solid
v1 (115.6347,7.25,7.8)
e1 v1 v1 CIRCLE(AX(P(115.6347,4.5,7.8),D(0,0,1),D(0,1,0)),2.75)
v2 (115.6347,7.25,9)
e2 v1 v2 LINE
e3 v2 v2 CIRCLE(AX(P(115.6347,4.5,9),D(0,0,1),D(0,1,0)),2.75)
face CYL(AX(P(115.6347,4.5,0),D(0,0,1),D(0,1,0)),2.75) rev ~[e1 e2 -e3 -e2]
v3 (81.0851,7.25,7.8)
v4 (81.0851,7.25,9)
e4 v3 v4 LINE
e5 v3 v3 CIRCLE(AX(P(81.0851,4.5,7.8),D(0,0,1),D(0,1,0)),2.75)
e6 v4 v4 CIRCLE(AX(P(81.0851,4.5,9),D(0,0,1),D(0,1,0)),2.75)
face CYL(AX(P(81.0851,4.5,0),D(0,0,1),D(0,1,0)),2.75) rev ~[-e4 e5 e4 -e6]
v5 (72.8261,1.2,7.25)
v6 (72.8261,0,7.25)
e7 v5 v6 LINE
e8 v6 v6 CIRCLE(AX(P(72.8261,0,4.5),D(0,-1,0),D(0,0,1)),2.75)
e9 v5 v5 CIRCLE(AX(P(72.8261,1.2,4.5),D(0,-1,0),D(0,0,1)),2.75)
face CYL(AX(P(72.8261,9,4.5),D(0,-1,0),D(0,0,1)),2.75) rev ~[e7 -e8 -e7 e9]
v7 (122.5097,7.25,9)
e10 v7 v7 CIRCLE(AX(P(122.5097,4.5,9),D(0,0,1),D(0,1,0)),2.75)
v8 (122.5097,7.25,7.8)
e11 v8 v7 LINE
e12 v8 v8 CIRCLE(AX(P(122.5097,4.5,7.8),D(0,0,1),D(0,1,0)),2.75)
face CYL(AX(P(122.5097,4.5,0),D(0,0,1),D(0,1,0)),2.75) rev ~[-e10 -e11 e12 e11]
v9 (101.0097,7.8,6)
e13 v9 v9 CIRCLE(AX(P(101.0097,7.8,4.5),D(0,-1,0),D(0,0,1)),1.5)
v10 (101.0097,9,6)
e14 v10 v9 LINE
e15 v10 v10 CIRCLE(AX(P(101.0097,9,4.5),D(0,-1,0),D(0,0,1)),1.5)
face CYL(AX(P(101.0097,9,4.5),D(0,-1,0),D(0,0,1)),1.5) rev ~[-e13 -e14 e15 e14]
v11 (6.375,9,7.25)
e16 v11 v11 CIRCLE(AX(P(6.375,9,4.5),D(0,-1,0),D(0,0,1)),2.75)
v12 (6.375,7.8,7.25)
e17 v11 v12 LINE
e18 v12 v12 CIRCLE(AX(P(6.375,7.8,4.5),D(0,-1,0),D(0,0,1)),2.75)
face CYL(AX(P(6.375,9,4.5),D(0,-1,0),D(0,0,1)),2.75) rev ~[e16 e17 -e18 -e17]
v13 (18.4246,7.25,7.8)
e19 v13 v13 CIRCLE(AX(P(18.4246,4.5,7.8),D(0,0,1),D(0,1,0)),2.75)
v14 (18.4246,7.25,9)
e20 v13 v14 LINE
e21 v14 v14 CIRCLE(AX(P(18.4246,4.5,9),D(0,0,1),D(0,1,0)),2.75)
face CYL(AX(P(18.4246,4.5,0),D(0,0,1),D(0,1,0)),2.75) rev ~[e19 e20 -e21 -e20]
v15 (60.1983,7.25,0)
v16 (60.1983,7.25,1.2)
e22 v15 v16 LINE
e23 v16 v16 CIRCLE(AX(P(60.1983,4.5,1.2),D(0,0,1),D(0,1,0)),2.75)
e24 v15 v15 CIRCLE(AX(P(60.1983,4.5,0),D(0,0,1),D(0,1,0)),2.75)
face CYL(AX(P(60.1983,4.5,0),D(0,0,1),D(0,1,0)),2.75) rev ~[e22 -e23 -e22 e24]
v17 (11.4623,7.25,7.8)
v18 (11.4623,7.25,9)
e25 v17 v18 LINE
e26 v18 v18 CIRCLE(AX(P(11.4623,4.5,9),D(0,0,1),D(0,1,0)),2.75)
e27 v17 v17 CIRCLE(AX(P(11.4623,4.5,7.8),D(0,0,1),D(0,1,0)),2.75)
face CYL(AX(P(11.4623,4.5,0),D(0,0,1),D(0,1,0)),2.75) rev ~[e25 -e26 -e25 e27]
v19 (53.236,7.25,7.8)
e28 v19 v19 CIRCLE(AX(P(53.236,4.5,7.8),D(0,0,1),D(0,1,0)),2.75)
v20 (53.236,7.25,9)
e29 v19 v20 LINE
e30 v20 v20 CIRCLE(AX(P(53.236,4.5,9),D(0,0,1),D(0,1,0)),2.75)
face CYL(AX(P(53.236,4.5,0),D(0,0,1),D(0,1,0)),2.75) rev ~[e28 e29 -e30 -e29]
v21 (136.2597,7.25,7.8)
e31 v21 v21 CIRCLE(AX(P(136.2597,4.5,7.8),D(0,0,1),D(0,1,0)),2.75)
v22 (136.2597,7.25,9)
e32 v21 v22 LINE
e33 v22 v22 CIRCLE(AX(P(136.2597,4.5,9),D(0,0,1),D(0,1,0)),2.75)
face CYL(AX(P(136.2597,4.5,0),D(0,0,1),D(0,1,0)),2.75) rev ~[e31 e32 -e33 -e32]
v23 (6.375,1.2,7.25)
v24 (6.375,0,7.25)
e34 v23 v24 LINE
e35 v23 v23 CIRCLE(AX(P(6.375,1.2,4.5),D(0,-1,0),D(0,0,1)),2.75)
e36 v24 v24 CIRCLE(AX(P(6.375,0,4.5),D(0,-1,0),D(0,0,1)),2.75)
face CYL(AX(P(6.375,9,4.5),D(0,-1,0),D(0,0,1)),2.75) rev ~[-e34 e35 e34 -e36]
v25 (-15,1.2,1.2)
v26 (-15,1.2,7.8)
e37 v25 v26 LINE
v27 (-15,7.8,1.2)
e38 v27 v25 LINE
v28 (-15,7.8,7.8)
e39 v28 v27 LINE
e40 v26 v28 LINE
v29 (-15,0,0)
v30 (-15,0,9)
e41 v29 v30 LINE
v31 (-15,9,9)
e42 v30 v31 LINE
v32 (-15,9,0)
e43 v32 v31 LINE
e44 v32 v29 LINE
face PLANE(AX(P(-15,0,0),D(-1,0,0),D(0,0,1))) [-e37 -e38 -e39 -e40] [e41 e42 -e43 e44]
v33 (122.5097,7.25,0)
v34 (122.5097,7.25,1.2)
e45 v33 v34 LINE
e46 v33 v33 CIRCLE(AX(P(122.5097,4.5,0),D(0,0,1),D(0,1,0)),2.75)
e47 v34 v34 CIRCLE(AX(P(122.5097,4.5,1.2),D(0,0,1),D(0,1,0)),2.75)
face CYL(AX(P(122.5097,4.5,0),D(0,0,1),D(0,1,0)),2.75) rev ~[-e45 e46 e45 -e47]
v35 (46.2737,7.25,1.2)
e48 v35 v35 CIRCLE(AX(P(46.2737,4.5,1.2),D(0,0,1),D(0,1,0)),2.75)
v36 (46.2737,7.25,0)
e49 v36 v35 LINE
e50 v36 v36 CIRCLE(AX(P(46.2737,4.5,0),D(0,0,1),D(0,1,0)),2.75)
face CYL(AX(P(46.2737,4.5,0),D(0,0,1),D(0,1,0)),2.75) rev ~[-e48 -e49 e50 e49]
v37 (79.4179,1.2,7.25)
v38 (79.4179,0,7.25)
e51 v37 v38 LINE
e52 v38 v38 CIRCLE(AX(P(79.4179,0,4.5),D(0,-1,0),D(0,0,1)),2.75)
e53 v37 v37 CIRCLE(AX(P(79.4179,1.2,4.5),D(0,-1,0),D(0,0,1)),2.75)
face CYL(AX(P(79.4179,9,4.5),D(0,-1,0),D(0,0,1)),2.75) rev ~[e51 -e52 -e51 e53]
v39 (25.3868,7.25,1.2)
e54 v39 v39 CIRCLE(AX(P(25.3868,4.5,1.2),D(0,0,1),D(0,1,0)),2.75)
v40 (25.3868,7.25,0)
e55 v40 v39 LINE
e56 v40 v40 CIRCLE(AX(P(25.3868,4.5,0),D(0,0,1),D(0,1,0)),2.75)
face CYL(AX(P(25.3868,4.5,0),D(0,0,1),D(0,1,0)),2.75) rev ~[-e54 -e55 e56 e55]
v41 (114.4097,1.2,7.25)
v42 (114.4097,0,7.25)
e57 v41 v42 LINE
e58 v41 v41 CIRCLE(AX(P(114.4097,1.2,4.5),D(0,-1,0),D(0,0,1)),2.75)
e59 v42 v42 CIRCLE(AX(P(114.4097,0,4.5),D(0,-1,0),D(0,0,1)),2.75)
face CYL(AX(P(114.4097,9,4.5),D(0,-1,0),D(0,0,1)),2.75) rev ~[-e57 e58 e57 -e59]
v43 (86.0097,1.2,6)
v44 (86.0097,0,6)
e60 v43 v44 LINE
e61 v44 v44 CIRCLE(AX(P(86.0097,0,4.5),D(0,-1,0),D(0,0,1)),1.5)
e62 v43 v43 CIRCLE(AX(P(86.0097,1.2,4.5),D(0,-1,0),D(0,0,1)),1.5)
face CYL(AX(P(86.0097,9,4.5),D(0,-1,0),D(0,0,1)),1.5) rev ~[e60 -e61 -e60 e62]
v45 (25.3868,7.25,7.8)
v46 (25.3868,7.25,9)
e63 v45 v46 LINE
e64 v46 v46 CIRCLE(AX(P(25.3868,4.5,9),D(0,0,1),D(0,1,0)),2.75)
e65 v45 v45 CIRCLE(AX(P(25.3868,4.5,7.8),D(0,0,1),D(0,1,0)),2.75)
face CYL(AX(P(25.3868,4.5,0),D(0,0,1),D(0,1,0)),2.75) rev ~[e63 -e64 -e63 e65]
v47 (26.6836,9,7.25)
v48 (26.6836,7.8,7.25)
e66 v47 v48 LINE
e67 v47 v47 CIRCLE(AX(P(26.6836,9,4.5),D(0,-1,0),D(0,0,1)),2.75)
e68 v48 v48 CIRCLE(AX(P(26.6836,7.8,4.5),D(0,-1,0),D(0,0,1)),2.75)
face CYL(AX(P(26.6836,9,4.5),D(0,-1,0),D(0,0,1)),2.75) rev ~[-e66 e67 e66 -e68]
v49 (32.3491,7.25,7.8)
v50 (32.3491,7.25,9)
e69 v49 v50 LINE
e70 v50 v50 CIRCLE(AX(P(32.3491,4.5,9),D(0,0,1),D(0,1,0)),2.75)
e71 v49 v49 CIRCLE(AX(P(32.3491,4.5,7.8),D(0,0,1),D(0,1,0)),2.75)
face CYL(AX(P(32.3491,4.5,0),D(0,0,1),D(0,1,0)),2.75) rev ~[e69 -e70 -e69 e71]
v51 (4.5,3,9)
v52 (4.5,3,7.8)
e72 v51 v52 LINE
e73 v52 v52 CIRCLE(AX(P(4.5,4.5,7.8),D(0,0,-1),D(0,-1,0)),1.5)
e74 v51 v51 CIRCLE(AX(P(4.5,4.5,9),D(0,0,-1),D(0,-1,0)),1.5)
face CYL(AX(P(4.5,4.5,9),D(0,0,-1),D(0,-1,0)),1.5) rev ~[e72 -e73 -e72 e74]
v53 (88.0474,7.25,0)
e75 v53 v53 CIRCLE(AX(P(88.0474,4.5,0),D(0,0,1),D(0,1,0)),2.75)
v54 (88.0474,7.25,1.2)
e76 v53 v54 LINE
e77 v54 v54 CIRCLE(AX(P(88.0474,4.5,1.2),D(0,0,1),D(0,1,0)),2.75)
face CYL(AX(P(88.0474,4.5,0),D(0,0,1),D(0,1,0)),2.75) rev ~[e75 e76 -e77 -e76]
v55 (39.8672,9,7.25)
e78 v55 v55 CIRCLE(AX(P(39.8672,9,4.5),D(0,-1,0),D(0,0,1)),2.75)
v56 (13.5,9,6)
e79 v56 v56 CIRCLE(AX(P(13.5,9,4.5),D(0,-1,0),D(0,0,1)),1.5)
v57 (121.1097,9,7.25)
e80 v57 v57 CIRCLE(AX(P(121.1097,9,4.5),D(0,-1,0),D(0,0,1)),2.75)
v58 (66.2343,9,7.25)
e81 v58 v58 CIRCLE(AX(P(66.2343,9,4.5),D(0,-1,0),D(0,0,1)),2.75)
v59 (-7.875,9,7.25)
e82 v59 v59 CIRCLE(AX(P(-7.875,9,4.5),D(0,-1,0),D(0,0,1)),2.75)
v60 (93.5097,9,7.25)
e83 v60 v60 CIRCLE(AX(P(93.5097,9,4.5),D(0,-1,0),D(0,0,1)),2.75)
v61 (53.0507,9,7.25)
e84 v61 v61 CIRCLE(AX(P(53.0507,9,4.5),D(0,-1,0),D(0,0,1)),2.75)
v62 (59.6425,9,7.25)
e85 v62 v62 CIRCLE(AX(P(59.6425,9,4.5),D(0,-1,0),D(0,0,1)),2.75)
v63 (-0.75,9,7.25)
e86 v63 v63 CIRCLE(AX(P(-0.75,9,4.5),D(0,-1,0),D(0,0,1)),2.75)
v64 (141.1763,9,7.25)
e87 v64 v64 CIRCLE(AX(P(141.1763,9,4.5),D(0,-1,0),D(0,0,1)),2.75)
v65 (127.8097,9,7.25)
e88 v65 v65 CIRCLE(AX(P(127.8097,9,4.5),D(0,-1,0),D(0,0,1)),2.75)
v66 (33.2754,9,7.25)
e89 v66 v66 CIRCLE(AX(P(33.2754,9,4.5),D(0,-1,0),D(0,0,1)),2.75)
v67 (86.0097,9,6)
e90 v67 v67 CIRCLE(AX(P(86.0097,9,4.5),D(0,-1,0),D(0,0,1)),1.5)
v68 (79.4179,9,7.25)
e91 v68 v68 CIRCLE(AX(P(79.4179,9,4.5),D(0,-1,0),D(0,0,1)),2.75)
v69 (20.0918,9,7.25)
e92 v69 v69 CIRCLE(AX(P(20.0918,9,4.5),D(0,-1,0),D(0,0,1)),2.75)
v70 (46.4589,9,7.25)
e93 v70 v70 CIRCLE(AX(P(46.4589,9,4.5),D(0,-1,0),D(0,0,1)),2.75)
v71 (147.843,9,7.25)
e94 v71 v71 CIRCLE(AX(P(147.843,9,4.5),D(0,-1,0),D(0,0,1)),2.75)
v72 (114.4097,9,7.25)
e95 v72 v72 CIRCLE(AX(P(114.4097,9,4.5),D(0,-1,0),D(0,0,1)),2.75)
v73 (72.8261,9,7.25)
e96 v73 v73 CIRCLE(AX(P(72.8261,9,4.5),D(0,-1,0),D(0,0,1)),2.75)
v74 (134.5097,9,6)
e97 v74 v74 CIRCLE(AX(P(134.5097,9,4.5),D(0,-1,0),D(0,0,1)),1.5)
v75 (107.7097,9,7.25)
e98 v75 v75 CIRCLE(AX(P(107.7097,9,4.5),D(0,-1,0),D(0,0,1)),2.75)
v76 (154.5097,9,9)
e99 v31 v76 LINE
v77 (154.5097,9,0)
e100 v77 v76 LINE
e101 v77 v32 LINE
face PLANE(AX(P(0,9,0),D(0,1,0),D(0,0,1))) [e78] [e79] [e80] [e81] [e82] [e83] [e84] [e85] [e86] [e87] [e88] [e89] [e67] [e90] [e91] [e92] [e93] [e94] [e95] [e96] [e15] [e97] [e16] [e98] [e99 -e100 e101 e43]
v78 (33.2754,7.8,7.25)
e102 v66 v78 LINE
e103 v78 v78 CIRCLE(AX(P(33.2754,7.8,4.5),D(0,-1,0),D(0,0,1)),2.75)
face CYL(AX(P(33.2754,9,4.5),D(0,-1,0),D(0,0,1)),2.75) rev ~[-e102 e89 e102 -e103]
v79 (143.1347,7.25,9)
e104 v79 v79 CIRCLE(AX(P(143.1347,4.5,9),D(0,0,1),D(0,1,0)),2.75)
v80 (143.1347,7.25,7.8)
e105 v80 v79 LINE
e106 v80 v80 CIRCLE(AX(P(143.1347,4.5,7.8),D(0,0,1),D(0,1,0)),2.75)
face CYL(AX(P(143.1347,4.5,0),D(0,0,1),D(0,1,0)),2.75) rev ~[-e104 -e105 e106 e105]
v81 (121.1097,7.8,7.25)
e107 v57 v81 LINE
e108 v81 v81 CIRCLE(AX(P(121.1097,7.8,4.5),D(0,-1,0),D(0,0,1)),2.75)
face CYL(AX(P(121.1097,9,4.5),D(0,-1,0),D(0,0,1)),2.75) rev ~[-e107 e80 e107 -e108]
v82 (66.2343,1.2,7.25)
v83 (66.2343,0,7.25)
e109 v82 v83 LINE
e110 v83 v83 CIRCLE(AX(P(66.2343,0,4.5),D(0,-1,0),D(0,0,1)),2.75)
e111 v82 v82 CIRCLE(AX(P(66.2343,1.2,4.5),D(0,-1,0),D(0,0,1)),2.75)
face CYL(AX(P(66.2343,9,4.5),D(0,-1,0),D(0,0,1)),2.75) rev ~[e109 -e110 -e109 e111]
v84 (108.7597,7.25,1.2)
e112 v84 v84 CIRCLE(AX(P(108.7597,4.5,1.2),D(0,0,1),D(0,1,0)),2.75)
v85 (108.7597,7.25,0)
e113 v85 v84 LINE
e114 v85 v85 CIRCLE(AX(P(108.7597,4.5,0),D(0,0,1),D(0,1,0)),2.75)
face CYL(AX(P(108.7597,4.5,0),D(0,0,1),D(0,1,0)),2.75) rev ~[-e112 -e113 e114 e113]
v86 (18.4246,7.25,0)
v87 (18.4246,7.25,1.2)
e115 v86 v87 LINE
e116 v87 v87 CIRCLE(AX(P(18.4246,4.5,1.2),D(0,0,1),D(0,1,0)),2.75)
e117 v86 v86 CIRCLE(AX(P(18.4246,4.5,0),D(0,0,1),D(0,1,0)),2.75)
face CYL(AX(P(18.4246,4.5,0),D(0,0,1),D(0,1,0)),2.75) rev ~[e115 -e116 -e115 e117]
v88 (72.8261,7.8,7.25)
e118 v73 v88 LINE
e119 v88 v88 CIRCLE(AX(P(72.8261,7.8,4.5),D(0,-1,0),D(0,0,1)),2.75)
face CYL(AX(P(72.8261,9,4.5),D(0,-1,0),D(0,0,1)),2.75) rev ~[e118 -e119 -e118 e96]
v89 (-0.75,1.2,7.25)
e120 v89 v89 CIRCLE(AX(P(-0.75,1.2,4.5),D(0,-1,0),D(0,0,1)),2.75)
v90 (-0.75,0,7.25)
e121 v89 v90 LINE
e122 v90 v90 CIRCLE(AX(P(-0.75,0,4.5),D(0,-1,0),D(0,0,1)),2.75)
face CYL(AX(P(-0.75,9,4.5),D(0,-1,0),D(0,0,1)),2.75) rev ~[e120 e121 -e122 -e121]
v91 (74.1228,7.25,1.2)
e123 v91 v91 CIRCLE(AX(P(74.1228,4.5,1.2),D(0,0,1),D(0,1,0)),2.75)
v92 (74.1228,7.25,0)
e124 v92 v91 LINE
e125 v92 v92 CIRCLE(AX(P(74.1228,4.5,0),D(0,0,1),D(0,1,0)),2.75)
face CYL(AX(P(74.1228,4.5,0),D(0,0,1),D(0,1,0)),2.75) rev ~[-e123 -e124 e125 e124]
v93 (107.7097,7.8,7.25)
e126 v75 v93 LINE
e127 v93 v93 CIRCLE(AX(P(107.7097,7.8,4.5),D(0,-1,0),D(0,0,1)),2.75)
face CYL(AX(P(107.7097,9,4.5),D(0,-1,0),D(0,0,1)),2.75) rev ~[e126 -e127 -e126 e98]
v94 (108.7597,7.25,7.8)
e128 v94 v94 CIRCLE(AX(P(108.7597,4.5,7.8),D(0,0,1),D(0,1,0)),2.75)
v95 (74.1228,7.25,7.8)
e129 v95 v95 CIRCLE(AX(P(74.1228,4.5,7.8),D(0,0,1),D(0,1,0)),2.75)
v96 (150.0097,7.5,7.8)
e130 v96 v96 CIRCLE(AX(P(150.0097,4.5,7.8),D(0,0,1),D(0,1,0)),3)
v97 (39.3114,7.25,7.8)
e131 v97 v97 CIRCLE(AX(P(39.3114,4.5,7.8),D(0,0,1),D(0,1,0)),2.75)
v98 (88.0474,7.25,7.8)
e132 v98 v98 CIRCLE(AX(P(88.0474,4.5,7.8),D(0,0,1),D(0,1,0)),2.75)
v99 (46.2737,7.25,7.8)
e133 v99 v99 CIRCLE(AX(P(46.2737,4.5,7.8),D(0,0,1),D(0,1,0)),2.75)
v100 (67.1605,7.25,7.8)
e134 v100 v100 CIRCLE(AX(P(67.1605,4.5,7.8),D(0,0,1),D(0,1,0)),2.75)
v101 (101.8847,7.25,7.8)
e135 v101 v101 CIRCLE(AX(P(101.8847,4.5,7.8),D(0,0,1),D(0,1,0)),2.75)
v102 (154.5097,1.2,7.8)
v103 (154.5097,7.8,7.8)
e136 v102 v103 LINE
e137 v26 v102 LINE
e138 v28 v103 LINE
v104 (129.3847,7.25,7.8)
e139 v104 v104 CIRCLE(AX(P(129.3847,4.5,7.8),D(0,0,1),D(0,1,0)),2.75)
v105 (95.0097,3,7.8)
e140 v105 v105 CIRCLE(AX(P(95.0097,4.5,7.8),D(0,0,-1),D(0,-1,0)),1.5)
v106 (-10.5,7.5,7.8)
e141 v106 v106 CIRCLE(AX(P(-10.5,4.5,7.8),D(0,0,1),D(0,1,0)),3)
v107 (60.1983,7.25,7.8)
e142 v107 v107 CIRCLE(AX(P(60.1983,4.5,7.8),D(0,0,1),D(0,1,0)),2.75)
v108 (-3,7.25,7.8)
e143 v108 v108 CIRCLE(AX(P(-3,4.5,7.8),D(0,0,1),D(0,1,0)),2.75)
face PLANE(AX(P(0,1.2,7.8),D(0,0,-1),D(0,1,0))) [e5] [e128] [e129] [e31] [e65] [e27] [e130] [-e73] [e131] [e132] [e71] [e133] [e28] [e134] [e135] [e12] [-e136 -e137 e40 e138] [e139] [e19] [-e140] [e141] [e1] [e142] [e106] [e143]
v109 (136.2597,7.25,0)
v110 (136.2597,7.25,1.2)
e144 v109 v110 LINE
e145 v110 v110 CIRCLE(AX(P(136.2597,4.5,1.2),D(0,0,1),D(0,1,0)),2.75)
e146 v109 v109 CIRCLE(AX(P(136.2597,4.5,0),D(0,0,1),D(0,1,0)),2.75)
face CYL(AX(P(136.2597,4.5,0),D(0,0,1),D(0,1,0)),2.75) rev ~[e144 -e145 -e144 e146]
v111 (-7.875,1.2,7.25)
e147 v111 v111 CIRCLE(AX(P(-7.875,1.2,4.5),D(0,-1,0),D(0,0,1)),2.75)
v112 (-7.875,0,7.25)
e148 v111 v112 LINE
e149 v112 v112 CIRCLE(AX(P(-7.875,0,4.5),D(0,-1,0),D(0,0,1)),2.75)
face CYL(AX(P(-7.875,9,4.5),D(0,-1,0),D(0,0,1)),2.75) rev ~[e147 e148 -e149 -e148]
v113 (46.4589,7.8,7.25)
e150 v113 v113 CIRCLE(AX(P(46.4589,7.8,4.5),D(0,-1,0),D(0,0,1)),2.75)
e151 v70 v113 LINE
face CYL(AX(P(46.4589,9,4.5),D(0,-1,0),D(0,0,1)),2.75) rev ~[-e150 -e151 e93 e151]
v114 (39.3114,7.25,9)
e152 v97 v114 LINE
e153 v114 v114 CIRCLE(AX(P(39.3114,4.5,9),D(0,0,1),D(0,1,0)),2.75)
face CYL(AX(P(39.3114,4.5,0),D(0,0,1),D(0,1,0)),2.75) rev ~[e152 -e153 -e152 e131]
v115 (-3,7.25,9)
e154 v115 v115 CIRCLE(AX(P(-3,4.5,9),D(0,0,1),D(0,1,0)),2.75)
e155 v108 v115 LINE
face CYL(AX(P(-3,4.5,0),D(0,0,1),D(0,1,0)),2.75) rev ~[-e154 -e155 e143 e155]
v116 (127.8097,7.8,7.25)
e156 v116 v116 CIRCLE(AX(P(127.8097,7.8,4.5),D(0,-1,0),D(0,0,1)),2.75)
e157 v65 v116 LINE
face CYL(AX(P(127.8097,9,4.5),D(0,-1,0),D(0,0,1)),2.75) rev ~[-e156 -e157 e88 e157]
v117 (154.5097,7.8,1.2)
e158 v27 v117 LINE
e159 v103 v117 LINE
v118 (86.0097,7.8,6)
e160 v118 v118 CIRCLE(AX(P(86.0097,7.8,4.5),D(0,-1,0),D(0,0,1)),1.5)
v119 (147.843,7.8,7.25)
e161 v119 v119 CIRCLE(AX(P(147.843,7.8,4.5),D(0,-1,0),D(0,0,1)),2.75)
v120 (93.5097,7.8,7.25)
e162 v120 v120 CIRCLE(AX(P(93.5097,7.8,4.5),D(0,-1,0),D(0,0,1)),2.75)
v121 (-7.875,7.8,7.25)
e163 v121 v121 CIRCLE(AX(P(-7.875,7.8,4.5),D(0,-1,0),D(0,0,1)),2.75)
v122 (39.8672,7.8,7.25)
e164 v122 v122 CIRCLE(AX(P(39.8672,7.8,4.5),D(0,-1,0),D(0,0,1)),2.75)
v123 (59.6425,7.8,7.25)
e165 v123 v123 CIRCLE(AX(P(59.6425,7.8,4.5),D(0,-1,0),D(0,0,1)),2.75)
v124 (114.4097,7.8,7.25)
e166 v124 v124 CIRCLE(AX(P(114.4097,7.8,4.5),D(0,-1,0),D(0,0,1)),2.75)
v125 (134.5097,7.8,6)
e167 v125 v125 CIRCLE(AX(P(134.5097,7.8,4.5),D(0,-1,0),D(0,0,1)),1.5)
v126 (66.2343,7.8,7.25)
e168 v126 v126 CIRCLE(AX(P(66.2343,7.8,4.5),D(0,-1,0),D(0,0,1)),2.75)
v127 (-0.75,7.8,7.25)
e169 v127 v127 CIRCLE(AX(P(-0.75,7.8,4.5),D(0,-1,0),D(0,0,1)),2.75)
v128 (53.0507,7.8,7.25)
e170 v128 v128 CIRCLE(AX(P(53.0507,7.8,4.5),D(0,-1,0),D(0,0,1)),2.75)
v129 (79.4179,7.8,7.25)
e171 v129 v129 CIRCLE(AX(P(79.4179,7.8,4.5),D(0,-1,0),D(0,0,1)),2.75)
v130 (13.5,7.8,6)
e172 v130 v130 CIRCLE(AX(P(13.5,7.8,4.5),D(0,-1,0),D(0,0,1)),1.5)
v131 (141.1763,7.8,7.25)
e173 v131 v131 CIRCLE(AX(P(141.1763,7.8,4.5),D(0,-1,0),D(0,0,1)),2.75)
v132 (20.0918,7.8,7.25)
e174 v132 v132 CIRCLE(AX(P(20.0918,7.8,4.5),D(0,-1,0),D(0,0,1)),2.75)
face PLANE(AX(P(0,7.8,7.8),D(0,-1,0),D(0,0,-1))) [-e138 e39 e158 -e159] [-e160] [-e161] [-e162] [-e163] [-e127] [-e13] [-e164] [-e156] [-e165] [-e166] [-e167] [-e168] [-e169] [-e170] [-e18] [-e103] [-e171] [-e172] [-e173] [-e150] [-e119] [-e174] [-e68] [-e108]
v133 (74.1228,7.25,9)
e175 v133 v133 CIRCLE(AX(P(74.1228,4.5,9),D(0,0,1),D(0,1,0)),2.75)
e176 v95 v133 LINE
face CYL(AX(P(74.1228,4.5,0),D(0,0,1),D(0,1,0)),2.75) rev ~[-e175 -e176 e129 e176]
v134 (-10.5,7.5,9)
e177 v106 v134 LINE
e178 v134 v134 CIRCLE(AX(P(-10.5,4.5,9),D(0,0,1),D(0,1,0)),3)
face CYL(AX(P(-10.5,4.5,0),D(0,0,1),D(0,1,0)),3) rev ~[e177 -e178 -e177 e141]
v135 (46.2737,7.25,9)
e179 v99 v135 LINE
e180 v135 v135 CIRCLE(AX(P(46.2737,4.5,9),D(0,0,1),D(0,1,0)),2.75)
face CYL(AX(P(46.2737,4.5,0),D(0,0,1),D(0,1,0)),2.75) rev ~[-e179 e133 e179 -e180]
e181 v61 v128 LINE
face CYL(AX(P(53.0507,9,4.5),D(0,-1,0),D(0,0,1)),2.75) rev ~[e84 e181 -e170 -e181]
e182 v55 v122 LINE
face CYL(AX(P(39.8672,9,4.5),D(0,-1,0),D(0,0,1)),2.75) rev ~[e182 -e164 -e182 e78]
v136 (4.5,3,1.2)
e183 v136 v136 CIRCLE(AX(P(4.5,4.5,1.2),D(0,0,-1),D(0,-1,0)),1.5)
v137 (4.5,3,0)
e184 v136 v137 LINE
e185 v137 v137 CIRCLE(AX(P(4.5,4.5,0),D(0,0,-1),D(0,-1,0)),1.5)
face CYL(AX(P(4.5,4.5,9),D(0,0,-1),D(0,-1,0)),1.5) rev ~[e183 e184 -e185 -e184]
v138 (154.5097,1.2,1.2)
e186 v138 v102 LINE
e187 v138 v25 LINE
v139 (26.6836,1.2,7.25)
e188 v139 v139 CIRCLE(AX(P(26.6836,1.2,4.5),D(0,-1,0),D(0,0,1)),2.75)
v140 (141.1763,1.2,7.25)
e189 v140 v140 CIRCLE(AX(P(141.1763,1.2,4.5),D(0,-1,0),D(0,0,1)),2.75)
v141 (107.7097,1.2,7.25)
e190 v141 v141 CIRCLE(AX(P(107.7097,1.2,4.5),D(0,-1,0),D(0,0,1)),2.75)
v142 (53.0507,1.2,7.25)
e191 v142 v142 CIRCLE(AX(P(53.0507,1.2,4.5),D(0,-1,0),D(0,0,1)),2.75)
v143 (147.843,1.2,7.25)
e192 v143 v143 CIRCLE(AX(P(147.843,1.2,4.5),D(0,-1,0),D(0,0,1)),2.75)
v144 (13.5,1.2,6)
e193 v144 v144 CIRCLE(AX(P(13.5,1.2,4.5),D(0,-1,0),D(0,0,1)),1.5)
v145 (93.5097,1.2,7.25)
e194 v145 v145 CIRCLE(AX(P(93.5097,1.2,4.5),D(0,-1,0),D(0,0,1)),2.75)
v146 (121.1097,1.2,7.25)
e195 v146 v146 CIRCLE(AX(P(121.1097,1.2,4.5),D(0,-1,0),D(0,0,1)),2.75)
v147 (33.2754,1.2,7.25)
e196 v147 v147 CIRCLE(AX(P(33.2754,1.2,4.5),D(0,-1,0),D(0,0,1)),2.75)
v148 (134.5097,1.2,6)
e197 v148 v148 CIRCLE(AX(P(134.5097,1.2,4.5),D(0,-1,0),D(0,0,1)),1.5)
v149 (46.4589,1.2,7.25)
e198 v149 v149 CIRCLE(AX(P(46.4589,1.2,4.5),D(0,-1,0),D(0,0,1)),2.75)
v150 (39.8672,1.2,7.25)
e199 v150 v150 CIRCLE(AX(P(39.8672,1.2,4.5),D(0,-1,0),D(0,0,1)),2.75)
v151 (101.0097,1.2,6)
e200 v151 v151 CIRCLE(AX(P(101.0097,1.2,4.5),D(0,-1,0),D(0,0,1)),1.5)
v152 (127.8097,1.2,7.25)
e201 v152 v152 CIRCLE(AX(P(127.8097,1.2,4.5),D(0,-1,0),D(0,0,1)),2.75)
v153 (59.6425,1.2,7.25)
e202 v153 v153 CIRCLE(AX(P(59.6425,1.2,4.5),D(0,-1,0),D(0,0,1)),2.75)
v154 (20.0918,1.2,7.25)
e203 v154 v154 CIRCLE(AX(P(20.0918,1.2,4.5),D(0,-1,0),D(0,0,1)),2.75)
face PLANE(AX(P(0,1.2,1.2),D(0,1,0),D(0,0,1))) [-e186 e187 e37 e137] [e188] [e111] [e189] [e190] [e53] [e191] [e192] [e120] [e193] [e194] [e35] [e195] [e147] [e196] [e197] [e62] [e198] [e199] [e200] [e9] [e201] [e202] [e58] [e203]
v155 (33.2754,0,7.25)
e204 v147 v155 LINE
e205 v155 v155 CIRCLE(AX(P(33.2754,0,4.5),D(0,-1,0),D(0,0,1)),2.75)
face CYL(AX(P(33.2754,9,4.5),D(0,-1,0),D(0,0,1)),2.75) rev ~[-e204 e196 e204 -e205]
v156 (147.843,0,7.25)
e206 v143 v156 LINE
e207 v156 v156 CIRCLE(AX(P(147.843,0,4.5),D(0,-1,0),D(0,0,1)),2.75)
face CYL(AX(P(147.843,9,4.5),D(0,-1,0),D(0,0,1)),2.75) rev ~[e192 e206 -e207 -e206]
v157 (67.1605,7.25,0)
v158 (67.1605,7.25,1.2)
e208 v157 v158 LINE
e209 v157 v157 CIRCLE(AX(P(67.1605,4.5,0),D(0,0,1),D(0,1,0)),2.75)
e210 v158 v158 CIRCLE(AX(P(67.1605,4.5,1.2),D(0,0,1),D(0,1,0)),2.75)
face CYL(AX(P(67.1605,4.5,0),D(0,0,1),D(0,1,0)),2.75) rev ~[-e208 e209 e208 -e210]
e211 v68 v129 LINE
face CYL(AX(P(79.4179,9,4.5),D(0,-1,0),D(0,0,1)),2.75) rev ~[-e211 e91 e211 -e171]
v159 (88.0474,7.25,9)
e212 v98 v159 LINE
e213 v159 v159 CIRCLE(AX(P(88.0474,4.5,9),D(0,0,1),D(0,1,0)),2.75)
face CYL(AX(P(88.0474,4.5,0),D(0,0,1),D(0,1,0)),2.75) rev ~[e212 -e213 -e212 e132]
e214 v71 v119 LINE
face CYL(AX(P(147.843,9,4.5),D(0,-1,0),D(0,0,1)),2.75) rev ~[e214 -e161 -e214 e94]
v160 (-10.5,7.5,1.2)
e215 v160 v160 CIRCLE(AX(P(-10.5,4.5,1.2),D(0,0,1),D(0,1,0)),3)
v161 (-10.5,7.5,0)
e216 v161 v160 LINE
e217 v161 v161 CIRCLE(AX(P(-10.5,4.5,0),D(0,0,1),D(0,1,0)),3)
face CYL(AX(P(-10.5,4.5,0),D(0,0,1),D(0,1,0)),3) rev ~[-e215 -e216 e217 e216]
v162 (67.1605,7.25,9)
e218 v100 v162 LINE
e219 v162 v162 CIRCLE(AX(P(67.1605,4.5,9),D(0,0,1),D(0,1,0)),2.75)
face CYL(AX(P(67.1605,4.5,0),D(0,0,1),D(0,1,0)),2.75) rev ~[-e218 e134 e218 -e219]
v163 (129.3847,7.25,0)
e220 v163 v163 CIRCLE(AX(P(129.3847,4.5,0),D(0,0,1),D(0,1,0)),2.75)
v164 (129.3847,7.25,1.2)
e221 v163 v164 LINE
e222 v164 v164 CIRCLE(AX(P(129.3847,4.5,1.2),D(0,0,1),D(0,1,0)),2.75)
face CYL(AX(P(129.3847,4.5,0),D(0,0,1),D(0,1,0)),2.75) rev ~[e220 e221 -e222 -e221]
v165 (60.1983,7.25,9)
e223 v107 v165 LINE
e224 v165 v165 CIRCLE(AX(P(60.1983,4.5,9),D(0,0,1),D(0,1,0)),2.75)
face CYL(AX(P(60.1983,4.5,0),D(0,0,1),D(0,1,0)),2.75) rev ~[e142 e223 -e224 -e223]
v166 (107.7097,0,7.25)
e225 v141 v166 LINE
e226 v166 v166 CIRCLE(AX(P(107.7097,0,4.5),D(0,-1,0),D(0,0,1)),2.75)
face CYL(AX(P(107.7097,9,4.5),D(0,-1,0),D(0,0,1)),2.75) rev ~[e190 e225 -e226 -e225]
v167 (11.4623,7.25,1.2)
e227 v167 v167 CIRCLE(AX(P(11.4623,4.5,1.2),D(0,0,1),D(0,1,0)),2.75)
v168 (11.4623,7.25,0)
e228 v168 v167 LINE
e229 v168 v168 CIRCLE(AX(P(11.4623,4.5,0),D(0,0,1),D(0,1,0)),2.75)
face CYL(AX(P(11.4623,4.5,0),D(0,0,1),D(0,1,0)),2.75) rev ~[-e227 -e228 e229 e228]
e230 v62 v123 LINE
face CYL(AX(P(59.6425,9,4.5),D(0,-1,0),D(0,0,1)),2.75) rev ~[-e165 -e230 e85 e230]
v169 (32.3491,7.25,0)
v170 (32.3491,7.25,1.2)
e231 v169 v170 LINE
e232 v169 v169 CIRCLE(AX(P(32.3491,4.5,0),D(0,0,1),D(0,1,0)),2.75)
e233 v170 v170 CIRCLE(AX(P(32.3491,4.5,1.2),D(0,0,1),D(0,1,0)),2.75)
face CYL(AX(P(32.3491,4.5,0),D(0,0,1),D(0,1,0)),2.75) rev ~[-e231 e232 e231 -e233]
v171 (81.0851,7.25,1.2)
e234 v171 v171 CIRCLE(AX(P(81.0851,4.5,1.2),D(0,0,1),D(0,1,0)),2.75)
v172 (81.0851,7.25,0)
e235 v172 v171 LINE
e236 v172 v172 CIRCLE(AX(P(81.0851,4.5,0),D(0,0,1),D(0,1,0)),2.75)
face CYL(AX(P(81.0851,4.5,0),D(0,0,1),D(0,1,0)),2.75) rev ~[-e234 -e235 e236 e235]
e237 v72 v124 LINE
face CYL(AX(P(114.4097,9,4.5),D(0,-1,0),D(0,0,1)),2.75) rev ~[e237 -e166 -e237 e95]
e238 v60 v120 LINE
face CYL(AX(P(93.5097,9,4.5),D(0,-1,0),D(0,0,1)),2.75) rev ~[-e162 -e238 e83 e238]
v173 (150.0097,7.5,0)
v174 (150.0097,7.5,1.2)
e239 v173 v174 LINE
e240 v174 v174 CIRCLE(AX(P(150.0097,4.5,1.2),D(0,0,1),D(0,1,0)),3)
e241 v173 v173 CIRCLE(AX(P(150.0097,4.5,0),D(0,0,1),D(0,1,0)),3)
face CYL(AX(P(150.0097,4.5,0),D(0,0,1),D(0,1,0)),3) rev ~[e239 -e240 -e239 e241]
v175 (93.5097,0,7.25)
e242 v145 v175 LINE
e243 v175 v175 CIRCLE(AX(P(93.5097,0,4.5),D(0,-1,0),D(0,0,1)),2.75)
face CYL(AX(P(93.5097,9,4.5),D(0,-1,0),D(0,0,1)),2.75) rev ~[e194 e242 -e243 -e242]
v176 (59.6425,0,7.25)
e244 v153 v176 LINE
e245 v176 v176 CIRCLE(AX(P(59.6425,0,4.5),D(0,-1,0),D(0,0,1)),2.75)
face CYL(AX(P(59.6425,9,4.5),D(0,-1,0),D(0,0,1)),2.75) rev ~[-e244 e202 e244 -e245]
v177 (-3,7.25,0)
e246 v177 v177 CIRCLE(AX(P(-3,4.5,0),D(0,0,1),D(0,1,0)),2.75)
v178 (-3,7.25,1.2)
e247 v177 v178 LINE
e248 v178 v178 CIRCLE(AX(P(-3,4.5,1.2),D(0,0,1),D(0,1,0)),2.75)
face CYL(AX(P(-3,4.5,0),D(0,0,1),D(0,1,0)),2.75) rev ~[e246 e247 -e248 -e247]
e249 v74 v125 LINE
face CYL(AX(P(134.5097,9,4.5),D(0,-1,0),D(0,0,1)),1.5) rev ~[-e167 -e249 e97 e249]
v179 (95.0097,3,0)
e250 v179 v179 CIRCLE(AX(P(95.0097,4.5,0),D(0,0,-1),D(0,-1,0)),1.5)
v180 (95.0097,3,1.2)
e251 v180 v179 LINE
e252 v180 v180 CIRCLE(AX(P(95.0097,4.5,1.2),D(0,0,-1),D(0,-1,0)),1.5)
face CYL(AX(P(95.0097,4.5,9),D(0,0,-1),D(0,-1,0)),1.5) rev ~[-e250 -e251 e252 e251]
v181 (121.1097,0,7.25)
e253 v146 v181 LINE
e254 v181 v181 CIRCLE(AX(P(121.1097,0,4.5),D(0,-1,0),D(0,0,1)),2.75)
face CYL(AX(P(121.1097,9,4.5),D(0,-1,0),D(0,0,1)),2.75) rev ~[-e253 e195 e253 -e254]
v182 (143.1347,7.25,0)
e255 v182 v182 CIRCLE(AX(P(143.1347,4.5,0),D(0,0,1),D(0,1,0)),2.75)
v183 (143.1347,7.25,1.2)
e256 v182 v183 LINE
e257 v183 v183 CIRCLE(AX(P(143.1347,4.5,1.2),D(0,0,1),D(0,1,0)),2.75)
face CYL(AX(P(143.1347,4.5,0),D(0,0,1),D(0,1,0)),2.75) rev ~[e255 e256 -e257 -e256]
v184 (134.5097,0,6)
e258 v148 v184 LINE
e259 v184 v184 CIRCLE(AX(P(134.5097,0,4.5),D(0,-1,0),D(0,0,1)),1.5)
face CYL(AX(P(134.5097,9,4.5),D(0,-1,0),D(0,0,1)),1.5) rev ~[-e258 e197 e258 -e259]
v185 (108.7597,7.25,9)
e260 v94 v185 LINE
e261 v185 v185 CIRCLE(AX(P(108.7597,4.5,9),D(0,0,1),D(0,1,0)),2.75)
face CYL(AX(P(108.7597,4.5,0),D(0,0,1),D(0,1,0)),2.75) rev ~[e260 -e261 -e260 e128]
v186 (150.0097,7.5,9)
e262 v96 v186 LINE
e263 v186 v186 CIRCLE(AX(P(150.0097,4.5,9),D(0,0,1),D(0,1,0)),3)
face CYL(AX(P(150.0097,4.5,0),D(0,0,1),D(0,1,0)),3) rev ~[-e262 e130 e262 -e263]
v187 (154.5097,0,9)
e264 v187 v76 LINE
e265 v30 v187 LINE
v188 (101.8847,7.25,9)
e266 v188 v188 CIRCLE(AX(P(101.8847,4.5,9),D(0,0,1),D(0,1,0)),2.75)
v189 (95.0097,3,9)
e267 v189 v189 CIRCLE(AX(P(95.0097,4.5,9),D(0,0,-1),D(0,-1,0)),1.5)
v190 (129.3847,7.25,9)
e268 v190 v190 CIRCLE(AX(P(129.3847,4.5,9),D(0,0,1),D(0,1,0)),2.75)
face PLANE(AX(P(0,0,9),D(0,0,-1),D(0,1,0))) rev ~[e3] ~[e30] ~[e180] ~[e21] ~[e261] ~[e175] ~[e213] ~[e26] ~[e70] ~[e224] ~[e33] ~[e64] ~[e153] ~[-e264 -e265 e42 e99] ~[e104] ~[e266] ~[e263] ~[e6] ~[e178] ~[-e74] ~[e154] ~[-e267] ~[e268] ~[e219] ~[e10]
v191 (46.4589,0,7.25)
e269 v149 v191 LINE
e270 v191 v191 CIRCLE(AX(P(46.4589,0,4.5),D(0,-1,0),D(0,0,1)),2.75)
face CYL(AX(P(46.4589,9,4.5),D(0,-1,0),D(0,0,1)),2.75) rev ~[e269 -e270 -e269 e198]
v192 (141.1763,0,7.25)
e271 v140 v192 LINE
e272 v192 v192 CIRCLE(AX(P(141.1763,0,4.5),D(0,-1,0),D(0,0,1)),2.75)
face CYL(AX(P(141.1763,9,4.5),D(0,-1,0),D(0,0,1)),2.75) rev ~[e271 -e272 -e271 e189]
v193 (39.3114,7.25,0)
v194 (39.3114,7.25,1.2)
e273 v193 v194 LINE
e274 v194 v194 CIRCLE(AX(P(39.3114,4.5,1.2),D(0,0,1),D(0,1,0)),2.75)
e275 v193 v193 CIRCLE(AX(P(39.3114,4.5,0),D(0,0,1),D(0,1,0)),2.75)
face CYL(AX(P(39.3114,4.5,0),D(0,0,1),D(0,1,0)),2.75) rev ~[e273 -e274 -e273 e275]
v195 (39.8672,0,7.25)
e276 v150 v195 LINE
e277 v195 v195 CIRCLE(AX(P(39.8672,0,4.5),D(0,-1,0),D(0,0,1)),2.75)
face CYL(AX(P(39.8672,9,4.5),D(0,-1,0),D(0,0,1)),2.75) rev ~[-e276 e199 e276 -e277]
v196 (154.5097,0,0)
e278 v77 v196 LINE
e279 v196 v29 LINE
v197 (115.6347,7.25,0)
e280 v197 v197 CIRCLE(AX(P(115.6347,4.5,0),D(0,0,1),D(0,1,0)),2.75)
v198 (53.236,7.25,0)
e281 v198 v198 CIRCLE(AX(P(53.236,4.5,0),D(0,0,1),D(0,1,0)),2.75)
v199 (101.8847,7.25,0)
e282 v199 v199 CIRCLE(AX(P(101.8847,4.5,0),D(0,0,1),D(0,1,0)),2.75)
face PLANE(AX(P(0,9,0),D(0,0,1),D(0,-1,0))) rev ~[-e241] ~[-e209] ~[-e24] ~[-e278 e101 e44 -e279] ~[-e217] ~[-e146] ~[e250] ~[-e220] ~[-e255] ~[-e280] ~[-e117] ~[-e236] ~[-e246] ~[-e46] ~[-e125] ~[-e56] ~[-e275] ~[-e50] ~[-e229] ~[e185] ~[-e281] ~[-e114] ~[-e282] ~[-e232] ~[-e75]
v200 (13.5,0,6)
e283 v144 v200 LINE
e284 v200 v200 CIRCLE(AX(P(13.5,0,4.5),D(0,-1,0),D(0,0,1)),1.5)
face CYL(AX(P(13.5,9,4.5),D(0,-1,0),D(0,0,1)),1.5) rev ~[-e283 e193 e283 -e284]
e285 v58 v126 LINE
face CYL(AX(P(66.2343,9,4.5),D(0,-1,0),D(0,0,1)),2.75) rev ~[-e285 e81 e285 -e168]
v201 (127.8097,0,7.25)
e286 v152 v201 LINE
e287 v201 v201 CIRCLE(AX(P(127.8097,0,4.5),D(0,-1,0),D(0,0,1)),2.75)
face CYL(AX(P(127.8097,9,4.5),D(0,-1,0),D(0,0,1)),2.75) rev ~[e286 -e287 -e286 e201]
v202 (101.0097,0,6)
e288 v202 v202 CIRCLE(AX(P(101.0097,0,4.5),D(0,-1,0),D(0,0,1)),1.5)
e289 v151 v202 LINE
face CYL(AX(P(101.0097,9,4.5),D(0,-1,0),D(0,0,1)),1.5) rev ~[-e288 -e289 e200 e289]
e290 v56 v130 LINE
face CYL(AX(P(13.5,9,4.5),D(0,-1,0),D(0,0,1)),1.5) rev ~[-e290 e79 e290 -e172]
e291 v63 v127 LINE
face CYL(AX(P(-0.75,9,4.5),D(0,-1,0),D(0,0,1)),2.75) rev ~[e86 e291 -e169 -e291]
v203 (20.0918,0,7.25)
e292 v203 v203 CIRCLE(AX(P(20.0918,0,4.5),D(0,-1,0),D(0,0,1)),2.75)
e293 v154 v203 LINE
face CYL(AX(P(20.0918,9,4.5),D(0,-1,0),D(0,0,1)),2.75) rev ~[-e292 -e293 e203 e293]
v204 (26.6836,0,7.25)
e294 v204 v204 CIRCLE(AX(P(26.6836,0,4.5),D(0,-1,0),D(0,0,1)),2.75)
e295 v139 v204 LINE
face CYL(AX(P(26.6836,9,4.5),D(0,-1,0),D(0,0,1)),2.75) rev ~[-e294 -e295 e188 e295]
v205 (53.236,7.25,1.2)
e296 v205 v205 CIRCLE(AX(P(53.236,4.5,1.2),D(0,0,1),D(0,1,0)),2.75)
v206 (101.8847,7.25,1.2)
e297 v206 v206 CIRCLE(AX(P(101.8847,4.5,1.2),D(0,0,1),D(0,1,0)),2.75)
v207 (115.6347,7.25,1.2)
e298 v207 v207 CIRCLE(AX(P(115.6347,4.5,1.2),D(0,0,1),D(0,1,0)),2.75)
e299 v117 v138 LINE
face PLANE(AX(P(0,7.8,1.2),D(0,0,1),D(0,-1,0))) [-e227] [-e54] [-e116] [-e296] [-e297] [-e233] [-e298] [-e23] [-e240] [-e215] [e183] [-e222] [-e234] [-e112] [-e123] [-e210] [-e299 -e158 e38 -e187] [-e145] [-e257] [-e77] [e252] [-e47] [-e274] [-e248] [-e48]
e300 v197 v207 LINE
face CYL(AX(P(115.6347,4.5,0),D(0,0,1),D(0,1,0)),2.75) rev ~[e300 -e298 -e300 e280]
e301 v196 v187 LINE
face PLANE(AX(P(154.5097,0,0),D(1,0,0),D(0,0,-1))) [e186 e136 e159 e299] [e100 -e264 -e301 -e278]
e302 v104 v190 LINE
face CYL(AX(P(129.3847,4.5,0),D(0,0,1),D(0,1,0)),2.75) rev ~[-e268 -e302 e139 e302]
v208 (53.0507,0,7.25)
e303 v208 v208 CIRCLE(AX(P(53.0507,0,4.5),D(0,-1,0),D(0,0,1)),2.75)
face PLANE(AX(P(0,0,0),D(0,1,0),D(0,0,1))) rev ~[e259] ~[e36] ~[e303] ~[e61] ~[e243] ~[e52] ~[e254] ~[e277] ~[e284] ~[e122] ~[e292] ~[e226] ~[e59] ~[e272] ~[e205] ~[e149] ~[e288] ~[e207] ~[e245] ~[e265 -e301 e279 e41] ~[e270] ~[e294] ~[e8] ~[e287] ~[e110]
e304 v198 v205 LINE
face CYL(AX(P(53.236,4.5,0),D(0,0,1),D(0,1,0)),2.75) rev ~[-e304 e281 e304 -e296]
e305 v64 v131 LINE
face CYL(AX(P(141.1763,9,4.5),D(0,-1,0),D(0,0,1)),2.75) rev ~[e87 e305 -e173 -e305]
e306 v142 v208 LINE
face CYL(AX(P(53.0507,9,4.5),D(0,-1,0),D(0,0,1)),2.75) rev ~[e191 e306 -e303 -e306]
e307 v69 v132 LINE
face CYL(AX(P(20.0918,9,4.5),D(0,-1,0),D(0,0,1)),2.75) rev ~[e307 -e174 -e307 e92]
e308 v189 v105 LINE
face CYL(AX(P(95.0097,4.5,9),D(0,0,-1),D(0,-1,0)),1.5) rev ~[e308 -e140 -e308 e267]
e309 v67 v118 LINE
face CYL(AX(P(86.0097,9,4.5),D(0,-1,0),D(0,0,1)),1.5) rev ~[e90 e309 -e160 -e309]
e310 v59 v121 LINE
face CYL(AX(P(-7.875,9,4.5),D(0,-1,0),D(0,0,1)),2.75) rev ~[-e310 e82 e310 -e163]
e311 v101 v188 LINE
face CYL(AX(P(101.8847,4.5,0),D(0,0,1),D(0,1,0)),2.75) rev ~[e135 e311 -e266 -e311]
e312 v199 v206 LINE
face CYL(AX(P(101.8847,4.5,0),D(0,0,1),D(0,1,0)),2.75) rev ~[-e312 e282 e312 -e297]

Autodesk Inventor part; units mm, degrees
ref_plane "YZ Plane" through (0, 0, 0) normal (1, 0, 0) x (0, 1, 0)
ref_plane "XZ Plane" through (0, 0, 0) normal (0, 1, 0) x (-1, 0, 0)
ref_plane "XY Plane" through (0, 0, 0) normal (0, 0, 1) x (1, 0, 0)
sketch "スケッチ1" plane through (0, 0, 0) normal (1, 0, 0) x (0, 1, 0)
  line L0 (0, 0) -> (9, 0)
  line L1 (9, 0) -> (9, 9)
  line L2 (9, 9) -> (0, 9)
  line L3 (0, 9) -> (0, 0)
  line L4 (1.2, 7.8) -> (7.8, 7.8)
  line L5 (7.8, 7.8) -> (7.8, 1.2)
  line L6 (7.8, 1.2) -> (1.2, 1.2)
  line L7 (1.2, 1.2) -> (1.2, 7.8)
  dimension "d0" = 9
  dimension "d1" = 9
  dimension "d2" = 6.6
  dimension "d3" = 6.6
  dimension "d4" = 1.2
  dimension "d5" = 1.2
extrude "押し出し1" add sketch "スケッチ1" along normal blind 99.5097
sketch "スケッチ2" plane through (0, 0, 9) normal (0, 0, 1) x (1, 0, 0)
  line L0 (0, 9) -> (0, 0) projected
  line L1 (0, 9) -> (99.5097, 9) projected
  line L2 (99.5097, 9) -> (99.5097, 0) projected
  point P0 (4.5, 4.5)
  point P1 (95.0097, 4.5)
  dimension "d8" = 4.5
  dimension "d9" = 4.5
  dimension "d10" = 4.5
  dimension "d11" = 4.5
hole "穴1" at (4.5, 4.5, 9) at (95.0097, 4.5, 9) direction (0, 0, -1) diameter 3 end through all
sketch "スケッチ3" plane through (0, 9, 9) normal (0, 1, 0) x (1, 0, 0)
  line L0 (0, 0) -> (99.5097, 0) projected
  line L1 (0, 9) -> (0, 0) projected
  line L2 (99.5097, 9) -> (99.5097, 0) projected
  point P0 (13.5, 4.5)
  point P1 (86.0097, 4.5)
  dimension "d19" = 4.5
  dimension "d20" = 13.5
  dimension "d21" = 13.5
  dimension "d22" = 4.5
hole "穴2" at (13.5, 9, 4.5) at (86.0097, 9, 4.5) direction (0, -1, 0) diameter 3 end through all
sketch "スケッチ4" plane through (99.5097, 0, 0) normal (1, 0, 0) x (0, 0, -1)
  line L0 (0, 9) -> (-9, 9) projected
  line L1 (0, 0) -> (-9, 0)
  line L2 (-9, 0) -> (-9, 9)
  line L3 (-9, 9) -> (0, 9)
  line L4 (0, 9) -> (0, 0)
  line L5 (-1.2, 1.2) -> (-7.8, 1.2) projected
  line L6 (-7.8, 1.2) -> (-7.8, 7.8) projected
  line L7 (-1.2, 1.2) -> (-7.8, 1.2)
  line L8 (-7.8, 1.2) -> (-7.8, 7.8)
  line L9 (-7.8, 7.8) -> (-1.2, 7.8)
  line L10 (-1.2, 7.8) -> (-1.2, 1.2)
  dimension "d30" = 6.6
  dimension "d31" = 6.6
extrude "押し出し2" add sketch "スケッチ4" along normal blind 55
sketch "スケッチ5" plane through (0, 0, 0) normal (-1, 0, 0) x (0, 0, 1)
  line L0 (0, 9) -> (9, 9) projected
  line L1 (0, 0) -> (9, 0)
  line L2 (9, 0) -> (9, 9)
  line L3 (9, 9) -> (0, 9)
  line L4 (0, 9) -> (0, 0)
  line L5 (1.2, 1.2) -> (7.8, 1.2) projected
  line L6 (7.8, 1.2) -> (7.8, 7.8) projected
  line L7 (1.2, 1.2) -> (7.8, 1.2)
  line L8 (7.8, 1.2) -> (7.8, 7.8)
  line L9 (7.8, 7.8) -> (1.2, 7.8)
  line L10 (1.2, 7.8) -> (1.2, 1.2)
extrude "押し出し3" add sketch "スケッチ5" along normal blind 15
sketch "スケッチ6" plane through (154.5097, 0, 0) normal (0, 0, -1) x (-1, 0, 0)
  line L0 (169.5097, 9) -> (169.5097, 0) projected
  line L1 (0, 9) -> (169.5097, 9) projected
  line L2 (0, 0) -> (0, 9) projected
  point P0 (154.5097, 0)
  point P1 (165.0097, 4.5)
  point P2 (4.5, 4.5)
  dimension "d36" = 4.5
  dimension "d37" = 4.5
  dimension "d38" = 4.5
  dimension "d39" = 4.5
hole "穴3" at (-10.5, 4.5, 0) at (150.0097, 4.5, 0) direction (0, 0, 1) diameter 6 end through all
sketch "スケッチ7" plane through (154.5097, 9, 9) normal (0, 1, 0) x (1, 0, 0)
  line L0 (0, 9) -> (0, 0) projected
  circle A0 centre (-68.5, 4.5) radius 1.5 projected
  line L1 (0, 9) -> (-169.5097, 9) projected
  point P0 (-154.5097, 9)
  point P1 (-53.5, 4.5)
  point P2 (-20, 4.5)
  dimension "d47" = 20
  dimension "d48" = 15
  dimension "d49" = 4.5
  dimension "d50" = 4.5
hole "穴4" at (101.0097, 9, 4.5) at (134.5097, 9, 4.5) direction (0, -1, 0) diameter 3 end through all
sketch "スケッチ8" plane through (154.5097, 9, 9) normal (0, 1, 0) x (1, 0, 0)
  line L0 (-169.5097, 0) -> (-169.5097, 9) projected
  circle A0 centre (-141.0097, 4.5) radius 1.5 projected
  line L1 (0, 9) -> (-169.5097, 9) projected
  circle A1 centre (-68.5, 4.5) radius 1.5 projected
  circle A2 centre (-68.5, 4.5) radius 1.5 projected
  line L2 (-141.0097, 4.5) -> (-68.5, 4.5)
  circle A3 centre (-53.5, 4.5) radius 1.5 projected
  circle A4 centre (-20, 4.5) radius 1.5 projected
  line L3 (0, 9) -> (0, 0) projected
  point P0 (-154.5097, 9)
  point P1 (-162.3847, 4.5)
  point P2 (-155.2597, 4.5)
  point P3 (-148.1347, 4.5)
  point P4 (-134.4179, 4.5)
  point P5 (-127.8261, 4.5)
  point P6 (-121.2343, 4.5)
  point P7 (-114.6425, 4.5)
  point P8 (-108.0507, 4.5)
  point P9 (-101.4589, 4.5)
  point P10 (-94.8672, 4.5)
  point P11 (-88.2754, 4.5)
  point P12 (-81.6836, 4.5)
  point P13 (-75.0918, 4.5)
  point P14 (-61, 4.5)
  point P15 (-46.8, 4.5)
  point P16 (-40.1, 4.5)
  point P17 (-33.4, 4.5)
  point P18 (-26.7, 4.5)
  point P19 (-13.3333, 4.5)
  point P20 (-6.6667, 4.5)
  dimension "d58" = 28.5
  dimension "d59" = 7.125
  dimension "d60" = 4.5
  dimension "d63" = 7.125
  dimension "d68" = 72.5097
  dimension "d69" = 6.5918
  dimension "d72" = 6.5918
  dimension "d77" = 15
  dimension "d78" = 7.5
  dimension "d79" = 4.5
  dimension "d80" = 33.5
  dimension "d81" = 4.5
  dimension "d82" = 6.7
  dimension "d85" = 6.7
  dimension "d90" = 20
  dimension "d91" = 4.5
  dimension "d92" = 6.6667
  dimension "d95" = 6.6667
hole "穴5" at (-7.875, 9, 4.5) at (-0.75, 9, 4.5) at (6.375, 9, 4.5) at (20.0918, 9, 4.5) at (26.6836, 9, 4.5) at (33.2754, 9, 4.5) at (39.8672, 9, 4.5) at (46.4589, 9, 4.5) at (53.0507, 9, 4.5) at (59.6425, 9, 4.5) at (66.2343, 9, 4.5) at (72.8261, 9, 4.5) at (79.4179, 9, 4.5) at (93.5097, 9, 4.5) at (107.7097, 9, 4.5) at (114.4097, 9, 4.5) at (121.1097, 9, 4.5) at (127.8097, 9, 4.5) at (141.1763, 9, 4.5) at (147.843, 9, 4.5) direction (0, -1, 0) diameter 5.5 end through all
sketch "スケッチ9" plane through (154.5097, 0, 0) normal (0, 0, -1) x (-1, 0, 0)
  circle A0 centre (59.5, 4.5) radius 1.5 projected
  circle A1 centre (150.0097, 4.5) radius 1.5 projected
  line L0 (0, 9) -> (169.5097, 9) projected
  circle A2 centre (4.5, 4.5) radius 3 projected
  point P0 (154.5097, 0)
  point P1 (66.4623, 4.5)
  point P2 (73.4246, 4.5)
  point P3 (80.3868, 4.5)
  point P4 (87.3491, 4.5)
  point P5 (94.3114, 4.5)
  point P6 (101.2737, 4.5)
  point P7 (108.236, 4.5)
  point P8 (115.1983, 4.5)
  point P9 (122.1605, 4.5)
  point P10 (129.1228, 4.5)
  point P11 (136.0851, 4.5)
  point P12 (143.0474, 4.5)
  point P13 (11.375, 4.5)
  point P14 (18.25, 4.5)
  point P15 (25.125, 4.5)
  point P16 (32, 4.5)
  point P17 (38.875, 4.5)
  point P18 (45.75, 4.5)
  point P19 (52.625, 4.5)
  dimension "d107" = 87.5097
  dimension "d108" = 90.5097
  dimension "d109" = 4.5
  dimension "d110" = 6.9623
  dimension "d113" = 6.9623
  dimension "d118" = 55
  dimension "d119" = 4.5
  dimension "d120" = 6.875
  dimension "d123" = 6.875
hole "穴6" at (88.0474, 4.5, 0) at (81.0851, 4.5, 0) at (74.1228, 4.5, 0) at (67.1605, 4.5, 0) at (60.1983, 4.5, 0) at (53.236, 4.5, 0) at (46.2737, 4.5, 0) at (39.3114, 4.5, 0) at (32.3491, 4.5, 0) at (25.3868, 4.5, 0) at (18.4246, 4.5, 0) at (11.4623, 4.5, 0) at (143.1347, 4.5, 0) at (136.2597, 4.5, 0) at (129.3847, 4.5, 0) at (122.5097, 4.5, 0) at (115.6347, 4.5, 0) at (108.7597, 4.5, 0) at (101.8847, 4.5, 0) direction (0, 0, 1) diameter 5.5 end through all
sketch "スケッチ10" plane through (154.5097, 0, 0) normal (0, 0, -1) x (-1, 0, 0)
  line L0 (169.5097, 0) -> (0, 0) projected
  circle A0 centre (165.0097, 4.5) radius 3 projected
  circle A1 centre (150.0097, 4.5) radius 1.5 projected
  point P0 (154.5097, 0)
  point P1 (157.5097, 4.5)
  dimension "d135" = 4.5
  dimension "d136" = 15
  dimension "d137" = 7.5
hole "穴7" at (-3, 4.5, 0) direction (0, 0, 1) diameter 5.5 end through all
equation "\"d3\" = d2"
equation "\"d5\" = d4"
equation "\"d9\" = d8"
equation "\"d37\" = d36"
equation "\"d38\" = d36"
equation "\"d39\" = d38"
equation "\"d50\" = d49"
equation "\"d59\" = 0.25 * d58"
equation "\"d63\" = d59"
equation "\"d69\" = 0.0909091 * d68"
equation "\"d72\" = d69"
equation "\"d78\" = 0.5 * d77"
equation "\"d81\" = d79"
equation "\"d82\" = 0.2 * d80"
equation "\"d85\" = d82"
equation "\"d92\" = 0.333333 * d90"
equation "\"d95\" = d92"
equation "\"d110\" = 0.0769231 * d108"
equation "\"d113\" = d110"
equation "\"d120\" = 0.125 * d118"
equation "\"d123\" = d120"
equation "\"d137\" = 0.5 * d136"
properties part number "ロボット回転9x9_3" material "アルミニウム 6061"
